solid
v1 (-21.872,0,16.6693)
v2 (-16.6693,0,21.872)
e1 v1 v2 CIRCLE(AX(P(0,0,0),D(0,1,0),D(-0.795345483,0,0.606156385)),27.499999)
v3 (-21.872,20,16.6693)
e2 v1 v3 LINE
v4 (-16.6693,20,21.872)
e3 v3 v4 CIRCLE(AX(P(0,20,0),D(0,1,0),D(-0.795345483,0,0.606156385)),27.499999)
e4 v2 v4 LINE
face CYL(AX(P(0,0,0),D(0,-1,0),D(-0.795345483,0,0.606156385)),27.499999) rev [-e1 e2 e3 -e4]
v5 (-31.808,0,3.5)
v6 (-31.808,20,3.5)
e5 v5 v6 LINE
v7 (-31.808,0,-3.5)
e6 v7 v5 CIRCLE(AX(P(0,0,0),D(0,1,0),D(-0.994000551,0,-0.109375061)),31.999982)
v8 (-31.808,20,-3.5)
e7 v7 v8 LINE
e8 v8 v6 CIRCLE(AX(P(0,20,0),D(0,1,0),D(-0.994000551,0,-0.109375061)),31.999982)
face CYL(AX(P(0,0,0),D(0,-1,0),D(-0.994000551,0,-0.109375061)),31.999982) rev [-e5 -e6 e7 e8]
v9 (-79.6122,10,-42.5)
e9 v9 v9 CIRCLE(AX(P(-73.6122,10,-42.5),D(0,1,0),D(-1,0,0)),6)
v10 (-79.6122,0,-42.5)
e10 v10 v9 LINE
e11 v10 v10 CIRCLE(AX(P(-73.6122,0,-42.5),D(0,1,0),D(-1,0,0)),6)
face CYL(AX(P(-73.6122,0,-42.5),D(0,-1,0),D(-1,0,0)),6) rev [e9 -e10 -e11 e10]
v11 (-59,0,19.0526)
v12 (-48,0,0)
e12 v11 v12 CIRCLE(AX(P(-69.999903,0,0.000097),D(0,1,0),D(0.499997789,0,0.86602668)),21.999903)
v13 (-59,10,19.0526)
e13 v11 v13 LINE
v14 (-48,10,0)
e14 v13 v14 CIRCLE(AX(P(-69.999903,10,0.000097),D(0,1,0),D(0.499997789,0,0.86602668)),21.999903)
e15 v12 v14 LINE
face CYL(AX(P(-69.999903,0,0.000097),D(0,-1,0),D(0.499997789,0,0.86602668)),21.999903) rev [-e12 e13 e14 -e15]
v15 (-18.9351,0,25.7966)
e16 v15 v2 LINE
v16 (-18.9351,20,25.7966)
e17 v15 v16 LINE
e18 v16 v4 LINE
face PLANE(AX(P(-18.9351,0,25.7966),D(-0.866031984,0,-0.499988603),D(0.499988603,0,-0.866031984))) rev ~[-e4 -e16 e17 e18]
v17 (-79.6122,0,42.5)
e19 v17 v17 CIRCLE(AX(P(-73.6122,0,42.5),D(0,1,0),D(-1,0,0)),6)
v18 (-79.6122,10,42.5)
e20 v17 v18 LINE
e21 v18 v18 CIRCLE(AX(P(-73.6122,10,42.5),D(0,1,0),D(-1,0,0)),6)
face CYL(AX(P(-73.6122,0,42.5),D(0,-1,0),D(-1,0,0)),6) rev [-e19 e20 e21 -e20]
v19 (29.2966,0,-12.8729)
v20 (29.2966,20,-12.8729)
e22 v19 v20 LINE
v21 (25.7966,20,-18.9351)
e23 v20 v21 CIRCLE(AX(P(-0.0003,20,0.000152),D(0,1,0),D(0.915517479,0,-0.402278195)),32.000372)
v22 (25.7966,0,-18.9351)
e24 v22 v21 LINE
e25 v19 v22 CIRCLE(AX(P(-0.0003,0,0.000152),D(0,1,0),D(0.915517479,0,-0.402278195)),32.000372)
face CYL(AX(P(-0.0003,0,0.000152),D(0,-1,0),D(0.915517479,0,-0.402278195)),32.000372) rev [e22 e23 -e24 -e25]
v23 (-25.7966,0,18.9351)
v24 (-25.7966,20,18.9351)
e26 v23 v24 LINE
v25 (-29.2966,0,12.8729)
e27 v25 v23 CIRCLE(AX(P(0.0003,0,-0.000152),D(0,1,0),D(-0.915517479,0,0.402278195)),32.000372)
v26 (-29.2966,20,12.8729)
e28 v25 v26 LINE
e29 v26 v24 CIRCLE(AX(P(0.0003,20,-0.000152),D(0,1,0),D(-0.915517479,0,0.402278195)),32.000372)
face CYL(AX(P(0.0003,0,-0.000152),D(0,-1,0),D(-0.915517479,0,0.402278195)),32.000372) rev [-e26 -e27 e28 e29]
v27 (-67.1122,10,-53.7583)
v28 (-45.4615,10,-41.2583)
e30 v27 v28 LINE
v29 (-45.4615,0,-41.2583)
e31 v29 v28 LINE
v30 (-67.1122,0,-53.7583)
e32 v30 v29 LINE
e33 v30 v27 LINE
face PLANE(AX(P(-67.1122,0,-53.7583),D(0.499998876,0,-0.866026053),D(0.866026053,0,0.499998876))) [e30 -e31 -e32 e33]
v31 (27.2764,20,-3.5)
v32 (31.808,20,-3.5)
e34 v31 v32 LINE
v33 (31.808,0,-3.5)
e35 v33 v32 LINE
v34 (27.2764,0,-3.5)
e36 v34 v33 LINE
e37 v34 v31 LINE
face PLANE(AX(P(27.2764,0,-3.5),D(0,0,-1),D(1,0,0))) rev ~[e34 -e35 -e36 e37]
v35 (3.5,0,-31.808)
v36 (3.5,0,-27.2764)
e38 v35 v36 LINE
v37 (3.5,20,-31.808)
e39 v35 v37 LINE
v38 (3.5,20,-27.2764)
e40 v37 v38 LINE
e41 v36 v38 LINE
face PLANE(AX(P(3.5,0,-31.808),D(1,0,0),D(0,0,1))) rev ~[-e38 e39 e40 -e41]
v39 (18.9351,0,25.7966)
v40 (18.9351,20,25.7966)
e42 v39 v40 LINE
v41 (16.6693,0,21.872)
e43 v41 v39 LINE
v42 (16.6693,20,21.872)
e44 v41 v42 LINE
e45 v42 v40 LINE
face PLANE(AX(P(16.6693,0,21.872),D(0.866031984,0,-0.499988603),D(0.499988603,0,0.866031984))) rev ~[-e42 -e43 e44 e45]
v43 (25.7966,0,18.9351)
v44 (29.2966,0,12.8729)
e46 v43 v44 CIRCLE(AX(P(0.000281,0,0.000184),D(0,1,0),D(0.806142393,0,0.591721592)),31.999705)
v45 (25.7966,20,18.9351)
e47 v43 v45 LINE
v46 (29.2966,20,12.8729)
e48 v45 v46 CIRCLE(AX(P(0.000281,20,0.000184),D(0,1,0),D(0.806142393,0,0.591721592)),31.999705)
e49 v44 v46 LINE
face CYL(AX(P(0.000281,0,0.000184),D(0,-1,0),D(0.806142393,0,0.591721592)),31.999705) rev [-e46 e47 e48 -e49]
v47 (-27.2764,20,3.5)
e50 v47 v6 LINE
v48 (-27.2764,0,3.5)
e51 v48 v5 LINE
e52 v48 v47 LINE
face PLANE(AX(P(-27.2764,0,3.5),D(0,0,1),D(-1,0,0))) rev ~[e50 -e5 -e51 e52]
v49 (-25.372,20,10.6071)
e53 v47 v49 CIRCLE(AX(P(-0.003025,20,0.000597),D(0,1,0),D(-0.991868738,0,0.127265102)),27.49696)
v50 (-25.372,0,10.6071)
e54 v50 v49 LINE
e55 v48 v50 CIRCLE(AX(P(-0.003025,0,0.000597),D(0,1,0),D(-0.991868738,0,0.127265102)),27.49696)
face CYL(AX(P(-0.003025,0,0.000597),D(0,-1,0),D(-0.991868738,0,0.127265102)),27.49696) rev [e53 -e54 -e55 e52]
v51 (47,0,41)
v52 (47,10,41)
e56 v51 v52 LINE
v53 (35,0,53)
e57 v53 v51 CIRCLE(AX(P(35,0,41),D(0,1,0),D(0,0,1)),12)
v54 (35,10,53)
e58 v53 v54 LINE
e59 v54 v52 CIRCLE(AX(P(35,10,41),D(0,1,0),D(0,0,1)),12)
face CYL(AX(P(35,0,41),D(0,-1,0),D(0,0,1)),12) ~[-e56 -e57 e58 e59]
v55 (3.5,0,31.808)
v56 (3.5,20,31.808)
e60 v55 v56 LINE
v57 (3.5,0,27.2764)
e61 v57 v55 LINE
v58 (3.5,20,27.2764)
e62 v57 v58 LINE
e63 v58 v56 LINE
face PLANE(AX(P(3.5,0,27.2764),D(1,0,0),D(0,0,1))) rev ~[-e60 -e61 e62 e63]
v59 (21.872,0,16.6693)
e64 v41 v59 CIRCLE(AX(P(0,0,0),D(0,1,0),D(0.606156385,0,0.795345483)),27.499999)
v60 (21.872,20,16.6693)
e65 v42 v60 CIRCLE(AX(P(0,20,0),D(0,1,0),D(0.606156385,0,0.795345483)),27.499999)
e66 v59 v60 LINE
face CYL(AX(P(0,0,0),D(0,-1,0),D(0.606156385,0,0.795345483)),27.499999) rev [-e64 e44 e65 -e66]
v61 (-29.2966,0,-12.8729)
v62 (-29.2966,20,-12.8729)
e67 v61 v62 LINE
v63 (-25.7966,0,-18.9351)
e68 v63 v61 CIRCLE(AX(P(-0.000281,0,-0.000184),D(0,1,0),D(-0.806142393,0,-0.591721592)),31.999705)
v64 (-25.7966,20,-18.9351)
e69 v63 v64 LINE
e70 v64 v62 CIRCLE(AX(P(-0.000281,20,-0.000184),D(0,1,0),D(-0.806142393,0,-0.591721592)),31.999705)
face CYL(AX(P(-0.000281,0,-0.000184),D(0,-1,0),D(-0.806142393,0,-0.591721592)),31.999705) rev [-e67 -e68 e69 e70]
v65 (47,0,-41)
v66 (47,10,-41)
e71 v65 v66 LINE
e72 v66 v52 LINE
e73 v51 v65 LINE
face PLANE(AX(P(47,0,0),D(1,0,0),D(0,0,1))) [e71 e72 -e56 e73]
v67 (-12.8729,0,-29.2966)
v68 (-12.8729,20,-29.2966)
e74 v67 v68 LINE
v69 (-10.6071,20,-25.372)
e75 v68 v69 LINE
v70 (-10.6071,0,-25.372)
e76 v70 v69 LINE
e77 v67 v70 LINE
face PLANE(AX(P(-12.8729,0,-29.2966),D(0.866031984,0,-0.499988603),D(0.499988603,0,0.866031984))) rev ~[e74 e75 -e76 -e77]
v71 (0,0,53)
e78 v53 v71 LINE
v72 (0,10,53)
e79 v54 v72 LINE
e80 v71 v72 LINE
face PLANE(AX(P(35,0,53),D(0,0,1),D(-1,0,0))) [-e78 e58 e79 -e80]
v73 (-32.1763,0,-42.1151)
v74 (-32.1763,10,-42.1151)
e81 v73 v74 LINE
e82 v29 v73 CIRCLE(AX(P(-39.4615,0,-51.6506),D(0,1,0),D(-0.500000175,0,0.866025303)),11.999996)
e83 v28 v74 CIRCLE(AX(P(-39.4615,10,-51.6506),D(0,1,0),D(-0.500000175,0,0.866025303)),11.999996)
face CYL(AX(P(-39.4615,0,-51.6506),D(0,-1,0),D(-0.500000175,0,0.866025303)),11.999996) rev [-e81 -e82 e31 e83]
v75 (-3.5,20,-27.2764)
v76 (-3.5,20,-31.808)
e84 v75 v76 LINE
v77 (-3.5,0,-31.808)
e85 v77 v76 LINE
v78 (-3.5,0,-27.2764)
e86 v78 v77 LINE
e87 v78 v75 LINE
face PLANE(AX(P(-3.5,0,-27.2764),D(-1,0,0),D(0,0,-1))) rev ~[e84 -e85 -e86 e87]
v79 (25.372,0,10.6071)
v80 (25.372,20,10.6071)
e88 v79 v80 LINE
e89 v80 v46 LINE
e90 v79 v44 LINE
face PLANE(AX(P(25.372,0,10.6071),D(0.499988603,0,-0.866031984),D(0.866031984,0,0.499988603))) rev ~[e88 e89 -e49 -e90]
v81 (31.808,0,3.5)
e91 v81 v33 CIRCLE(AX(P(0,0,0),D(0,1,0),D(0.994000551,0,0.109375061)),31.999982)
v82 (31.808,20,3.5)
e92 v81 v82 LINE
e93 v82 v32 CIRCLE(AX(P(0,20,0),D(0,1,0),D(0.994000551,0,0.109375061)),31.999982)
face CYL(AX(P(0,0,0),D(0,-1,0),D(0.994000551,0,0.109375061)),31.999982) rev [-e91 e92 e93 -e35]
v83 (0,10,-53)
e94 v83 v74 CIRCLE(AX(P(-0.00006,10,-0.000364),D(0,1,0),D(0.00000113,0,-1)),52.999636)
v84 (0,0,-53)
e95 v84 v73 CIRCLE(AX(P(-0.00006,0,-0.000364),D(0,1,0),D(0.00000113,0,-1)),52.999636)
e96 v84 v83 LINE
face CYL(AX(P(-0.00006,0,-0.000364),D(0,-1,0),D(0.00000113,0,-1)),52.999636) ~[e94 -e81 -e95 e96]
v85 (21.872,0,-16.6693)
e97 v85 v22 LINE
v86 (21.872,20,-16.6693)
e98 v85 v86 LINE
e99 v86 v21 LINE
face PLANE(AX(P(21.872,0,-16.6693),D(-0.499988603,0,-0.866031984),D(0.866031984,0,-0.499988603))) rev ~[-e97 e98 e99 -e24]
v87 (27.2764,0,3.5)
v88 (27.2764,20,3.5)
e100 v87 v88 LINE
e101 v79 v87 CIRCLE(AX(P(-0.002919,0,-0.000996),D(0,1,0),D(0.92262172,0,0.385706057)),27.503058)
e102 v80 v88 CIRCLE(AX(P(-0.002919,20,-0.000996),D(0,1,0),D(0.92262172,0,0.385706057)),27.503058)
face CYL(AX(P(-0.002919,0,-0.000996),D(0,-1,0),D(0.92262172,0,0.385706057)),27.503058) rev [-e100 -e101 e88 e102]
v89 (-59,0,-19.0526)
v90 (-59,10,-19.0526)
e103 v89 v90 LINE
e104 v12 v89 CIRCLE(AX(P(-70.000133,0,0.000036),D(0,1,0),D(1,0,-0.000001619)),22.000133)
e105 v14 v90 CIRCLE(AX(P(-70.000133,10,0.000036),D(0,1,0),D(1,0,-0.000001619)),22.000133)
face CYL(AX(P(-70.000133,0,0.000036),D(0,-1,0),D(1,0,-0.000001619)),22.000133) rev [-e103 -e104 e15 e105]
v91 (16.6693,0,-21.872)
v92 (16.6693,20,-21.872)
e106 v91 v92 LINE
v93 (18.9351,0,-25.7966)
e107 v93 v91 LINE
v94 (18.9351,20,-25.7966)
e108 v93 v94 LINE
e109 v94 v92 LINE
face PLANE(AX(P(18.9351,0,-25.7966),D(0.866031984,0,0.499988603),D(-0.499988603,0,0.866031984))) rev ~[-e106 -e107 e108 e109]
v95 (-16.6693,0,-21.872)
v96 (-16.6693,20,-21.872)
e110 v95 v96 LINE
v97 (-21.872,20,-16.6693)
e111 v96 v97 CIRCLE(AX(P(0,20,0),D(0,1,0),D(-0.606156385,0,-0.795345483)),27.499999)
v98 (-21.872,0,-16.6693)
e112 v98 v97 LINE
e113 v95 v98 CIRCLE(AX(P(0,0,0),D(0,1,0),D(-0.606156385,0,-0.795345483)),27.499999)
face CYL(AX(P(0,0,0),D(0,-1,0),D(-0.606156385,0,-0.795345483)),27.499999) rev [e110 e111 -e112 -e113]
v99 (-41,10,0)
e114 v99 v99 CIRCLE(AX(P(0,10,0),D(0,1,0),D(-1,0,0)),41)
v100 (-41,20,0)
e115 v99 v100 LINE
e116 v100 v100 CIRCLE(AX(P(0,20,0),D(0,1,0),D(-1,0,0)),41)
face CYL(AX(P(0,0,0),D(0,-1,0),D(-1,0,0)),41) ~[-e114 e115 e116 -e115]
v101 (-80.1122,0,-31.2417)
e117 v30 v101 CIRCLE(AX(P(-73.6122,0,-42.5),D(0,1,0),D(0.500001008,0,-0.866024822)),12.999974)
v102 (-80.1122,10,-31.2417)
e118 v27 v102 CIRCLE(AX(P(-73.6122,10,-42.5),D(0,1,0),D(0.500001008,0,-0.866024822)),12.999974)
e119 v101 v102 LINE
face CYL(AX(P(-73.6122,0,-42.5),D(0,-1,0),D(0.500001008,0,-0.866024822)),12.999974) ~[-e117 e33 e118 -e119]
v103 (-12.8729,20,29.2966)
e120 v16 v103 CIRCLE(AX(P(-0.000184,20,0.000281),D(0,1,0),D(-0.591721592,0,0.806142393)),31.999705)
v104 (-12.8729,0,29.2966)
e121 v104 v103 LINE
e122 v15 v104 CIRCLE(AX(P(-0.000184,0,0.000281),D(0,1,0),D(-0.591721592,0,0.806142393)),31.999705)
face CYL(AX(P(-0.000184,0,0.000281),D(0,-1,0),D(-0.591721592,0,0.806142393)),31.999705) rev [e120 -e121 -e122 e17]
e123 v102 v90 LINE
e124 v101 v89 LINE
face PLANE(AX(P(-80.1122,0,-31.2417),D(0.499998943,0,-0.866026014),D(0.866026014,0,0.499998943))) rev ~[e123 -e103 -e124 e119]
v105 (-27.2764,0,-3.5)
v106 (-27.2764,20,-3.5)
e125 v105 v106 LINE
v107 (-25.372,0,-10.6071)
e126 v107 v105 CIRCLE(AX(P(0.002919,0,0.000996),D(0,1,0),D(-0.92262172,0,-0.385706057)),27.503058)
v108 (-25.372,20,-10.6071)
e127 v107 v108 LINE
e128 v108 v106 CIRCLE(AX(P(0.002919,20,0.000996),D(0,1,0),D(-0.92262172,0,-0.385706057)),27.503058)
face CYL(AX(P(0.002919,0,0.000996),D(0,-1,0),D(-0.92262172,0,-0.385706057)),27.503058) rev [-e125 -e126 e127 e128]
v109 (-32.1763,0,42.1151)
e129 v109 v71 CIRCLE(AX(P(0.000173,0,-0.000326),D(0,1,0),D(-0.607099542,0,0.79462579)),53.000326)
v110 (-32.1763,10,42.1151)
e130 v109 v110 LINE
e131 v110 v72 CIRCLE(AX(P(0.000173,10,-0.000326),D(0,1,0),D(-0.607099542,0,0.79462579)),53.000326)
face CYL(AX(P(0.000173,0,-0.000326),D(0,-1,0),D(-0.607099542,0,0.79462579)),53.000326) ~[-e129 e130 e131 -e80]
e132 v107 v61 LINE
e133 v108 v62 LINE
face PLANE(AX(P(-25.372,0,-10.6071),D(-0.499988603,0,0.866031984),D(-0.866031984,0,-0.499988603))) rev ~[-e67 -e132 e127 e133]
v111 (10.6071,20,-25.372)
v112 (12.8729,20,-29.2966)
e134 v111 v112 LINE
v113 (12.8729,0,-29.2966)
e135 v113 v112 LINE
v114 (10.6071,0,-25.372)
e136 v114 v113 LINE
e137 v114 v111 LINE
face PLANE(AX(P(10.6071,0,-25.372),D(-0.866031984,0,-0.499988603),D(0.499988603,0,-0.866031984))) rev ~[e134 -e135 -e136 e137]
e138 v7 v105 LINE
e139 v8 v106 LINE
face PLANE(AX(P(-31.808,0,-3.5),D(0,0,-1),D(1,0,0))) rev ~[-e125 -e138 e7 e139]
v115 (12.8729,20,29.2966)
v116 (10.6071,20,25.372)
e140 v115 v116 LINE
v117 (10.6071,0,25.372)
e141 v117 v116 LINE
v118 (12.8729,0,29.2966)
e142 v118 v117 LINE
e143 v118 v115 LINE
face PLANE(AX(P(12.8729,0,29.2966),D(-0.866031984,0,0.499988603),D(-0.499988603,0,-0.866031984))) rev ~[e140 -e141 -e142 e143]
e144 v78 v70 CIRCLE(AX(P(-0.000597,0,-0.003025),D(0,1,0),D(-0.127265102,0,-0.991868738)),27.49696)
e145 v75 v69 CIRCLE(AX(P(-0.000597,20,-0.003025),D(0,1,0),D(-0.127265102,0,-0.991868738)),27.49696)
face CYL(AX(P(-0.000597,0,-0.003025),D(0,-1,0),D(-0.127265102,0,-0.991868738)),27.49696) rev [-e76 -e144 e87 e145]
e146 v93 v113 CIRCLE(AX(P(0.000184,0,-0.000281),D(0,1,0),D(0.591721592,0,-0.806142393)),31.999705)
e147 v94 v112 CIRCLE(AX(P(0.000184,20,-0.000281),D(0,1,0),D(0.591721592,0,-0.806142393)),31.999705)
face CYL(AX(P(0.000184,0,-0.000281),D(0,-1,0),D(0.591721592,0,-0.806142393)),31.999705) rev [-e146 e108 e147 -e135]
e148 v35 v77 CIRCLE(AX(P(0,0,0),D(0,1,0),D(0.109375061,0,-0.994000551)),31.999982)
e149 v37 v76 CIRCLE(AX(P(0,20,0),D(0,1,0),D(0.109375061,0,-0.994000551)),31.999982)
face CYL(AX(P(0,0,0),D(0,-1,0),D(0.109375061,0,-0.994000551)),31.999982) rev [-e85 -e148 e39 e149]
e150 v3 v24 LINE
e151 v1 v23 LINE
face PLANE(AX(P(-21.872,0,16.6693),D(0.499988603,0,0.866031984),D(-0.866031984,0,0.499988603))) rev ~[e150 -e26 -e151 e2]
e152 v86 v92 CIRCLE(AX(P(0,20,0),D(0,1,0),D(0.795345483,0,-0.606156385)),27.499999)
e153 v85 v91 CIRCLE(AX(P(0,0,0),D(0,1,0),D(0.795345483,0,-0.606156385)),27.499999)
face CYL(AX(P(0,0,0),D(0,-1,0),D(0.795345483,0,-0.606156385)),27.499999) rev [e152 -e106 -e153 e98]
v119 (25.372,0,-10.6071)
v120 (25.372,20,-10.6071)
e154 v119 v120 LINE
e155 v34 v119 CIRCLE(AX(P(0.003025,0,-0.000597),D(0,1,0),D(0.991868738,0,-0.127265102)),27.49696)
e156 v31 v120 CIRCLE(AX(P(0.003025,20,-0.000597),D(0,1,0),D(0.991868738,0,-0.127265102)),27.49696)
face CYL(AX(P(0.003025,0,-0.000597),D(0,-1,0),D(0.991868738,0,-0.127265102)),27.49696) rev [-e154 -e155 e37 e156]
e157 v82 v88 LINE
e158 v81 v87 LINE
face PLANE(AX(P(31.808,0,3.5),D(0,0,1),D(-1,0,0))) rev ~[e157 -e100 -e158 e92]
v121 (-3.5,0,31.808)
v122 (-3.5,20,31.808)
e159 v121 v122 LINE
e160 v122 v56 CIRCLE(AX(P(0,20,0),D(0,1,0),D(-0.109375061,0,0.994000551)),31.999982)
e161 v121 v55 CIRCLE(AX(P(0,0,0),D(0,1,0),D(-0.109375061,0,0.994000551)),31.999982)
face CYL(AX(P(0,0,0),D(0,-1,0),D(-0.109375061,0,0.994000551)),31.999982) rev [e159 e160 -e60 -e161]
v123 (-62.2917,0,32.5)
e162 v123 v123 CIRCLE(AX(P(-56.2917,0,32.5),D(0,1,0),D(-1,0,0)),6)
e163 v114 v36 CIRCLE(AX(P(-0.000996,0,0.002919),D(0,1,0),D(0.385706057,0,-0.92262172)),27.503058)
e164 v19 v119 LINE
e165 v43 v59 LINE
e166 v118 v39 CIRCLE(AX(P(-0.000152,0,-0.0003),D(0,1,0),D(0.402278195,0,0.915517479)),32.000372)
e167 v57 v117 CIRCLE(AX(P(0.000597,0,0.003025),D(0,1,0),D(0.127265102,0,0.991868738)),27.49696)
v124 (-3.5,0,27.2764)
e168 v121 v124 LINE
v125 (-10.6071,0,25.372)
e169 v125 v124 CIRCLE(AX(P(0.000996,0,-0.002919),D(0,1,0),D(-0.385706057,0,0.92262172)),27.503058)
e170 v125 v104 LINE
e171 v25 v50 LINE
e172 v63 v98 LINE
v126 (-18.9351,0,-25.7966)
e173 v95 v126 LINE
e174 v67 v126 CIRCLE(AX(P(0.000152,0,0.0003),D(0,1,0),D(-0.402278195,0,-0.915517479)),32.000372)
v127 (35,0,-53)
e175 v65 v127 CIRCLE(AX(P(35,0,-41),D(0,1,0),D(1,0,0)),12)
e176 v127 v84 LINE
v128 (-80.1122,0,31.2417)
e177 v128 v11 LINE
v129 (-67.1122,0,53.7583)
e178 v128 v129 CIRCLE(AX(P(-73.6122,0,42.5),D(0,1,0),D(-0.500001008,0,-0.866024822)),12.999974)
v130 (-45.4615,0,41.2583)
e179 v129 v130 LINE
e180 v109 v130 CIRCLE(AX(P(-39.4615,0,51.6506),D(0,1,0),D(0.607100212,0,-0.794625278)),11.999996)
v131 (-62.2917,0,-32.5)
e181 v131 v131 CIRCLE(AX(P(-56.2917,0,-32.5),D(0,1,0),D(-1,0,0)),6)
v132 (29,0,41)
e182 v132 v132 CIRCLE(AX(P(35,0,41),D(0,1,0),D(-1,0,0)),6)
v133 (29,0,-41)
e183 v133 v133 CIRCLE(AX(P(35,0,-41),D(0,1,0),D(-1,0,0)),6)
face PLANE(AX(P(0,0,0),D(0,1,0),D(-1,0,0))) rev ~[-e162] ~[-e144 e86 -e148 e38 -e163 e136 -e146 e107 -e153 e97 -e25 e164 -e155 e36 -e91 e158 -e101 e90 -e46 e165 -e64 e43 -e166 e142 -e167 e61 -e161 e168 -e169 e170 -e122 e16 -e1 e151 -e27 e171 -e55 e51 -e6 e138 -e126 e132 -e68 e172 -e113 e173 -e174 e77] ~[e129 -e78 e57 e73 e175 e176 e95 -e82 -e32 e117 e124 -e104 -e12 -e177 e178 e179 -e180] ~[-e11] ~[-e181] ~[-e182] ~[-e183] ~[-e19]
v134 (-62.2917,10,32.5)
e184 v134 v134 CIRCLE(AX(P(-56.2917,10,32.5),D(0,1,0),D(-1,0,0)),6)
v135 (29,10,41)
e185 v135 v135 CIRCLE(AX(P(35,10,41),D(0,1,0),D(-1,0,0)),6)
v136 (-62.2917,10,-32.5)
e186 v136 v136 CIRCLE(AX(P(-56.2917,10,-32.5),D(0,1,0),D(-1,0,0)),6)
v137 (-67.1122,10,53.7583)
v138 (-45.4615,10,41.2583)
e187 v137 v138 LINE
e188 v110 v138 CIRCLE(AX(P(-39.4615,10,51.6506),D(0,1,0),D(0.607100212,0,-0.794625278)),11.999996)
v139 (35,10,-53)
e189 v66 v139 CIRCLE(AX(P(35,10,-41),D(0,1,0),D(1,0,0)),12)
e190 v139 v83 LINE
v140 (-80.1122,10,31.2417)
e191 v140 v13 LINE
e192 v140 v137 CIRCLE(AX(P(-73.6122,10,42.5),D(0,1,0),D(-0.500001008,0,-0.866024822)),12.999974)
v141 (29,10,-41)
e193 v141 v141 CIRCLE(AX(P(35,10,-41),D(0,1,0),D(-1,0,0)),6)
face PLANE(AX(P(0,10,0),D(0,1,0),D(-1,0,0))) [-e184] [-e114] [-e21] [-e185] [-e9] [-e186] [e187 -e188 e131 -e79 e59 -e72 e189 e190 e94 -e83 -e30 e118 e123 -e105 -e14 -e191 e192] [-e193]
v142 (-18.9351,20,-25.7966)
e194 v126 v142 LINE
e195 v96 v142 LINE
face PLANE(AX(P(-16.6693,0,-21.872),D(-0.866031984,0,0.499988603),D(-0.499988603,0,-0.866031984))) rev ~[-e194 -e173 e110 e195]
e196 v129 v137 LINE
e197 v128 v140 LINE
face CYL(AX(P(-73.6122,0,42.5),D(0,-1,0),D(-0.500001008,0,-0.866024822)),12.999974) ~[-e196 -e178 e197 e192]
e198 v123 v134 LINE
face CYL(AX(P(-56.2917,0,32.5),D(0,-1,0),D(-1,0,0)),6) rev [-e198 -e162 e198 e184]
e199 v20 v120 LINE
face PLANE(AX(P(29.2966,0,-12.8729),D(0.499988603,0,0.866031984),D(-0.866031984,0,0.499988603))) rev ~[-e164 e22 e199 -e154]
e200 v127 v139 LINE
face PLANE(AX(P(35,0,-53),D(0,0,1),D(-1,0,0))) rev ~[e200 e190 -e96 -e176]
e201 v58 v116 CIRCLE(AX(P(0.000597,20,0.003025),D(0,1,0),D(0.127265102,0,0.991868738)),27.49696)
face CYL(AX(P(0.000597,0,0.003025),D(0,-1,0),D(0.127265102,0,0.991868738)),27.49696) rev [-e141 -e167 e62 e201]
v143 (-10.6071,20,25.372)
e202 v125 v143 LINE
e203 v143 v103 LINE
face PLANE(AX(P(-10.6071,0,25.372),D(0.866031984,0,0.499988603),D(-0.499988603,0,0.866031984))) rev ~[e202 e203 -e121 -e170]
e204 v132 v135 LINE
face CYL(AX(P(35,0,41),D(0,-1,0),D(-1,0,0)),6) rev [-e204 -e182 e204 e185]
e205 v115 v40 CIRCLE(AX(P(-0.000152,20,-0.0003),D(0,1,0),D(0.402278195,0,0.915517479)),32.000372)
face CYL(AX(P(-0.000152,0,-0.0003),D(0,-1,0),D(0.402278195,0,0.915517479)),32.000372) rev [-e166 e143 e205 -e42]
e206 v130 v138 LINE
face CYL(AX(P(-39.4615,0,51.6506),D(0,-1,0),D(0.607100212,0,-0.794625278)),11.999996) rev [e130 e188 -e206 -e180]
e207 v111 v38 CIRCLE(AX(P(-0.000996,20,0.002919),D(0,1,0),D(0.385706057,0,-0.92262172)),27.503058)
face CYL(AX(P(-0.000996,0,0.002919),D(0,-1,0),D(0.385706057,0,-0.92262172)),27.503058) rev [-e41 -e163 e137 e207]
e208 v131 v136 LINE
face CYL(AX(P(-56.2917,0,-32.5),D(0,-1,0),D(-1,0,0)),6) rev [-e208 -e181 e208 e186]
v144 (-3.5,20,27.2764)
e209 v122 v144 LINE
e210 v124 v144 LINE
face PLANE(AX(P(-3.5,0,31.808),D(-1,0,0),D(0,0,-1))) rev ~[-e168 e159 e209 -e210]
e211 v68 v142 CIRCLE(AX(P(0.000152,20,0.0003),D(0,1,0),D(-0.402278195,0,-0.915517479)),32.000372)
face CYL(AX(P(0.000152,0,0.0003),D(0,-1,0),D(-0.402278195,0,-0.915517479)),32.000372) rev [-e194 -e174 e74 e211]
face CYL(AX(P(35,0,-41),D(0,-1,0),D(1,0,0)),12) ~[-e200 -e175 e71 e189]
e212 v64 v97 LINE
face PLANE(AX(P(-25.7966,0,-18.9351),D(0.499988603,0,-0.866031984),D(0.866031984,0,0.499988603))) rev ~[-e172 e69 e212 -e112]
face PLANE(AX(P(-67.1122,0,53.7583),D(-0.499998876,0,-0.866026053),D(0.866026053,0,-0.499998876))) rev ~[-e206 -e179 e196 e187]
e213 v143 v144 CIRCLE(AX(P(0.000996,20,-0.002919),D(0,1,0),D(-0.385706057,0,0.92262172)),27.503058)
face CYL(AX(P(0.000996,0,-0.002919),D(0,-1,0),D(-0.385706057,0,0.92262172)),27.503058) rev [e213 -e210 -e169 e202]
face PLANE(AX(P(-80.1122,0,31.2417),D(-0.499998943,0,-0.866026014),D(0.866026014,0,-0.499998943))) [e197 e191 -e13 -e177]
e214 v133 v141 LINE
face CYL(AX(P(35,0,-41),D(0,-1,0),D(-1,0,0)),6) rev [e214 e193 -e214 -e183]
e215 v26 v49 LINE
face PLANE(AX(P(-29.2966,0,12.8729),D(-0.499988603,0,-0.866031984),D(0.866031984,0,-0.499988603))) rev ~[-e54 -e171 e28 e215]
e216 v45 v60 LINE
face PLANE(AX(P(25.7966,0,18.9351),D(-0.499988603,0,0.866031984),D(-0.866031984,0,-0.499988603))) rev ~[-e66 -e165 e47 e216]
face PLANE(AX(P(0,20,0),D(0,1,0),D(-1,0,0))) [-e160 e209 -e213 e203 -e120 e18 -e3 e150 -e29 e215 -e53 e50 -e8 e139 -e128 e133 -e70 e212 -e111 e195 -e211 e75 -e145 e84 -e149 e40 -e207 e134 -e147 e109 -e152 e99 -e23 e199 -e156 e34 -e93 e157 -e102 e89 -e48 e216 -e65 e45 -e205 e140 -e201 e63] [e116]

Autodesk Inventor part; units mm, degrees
ref_plane "YZ Plane" through (0, 0, 0) normal (1, 0, 0) x (0, 1, 0)
ref_plane "XZ Plane" through (0, 0, 0) normal (0, 1, 0) x (-1, 0, 0)
ref_plane "XY Plane" through (0, 0, 0) normal (0, 0, 1) x (1, 0, 0)
sketch "Sketch1" plane through (0, 0, 0) normal (0, 1, 0) x (-1, 0, 0)
  circle A0 centre (0, 0) radius 41
  line L0 (-47, 0) -> (-47, 41)
  line L1 (-35, 53) -> (0, 53)
  circle A1 centre (-35, 41) radius 6
  arc A2 (-35, 53) -> (-47, 41) centre (-35, 41) ccw
  circle A3 centre (73.6122, 42.5) radius 6
  circle A4 centre (56.2917, 32.5) radius 6
  line L2 (0, 0) -> (41, 0) construction
  line L3 (0, 0) -> (35.507, 20.5) construction
  line L4 (35.507, 20.5) -> (56.2917, 32.5) construction
  line L5 (56.2917, 32.5) -> (73.6122, 42.5) construction
  arc A5 (80.1122, 31.2417) -> (67.1122, 53.7583) centre (73.6122, 42.5) ccw
  line L6 (67.1122, 53.7583) -> (45.4615, 41.2583)
  line L7 (80.1122, 31.2417) -> (59, 19.0526)
  arc A6 (59, 19.0526) -> (48, 0) centre (70, 0) ccw
  arc A7 (32.1763, 42.1151) -> (45.4615, 41.2583) centre (39.4615, 51.6506) ccw
  line L8 (41, 0) -> (48, 0) construction
  circle A8 centre (73.6122, -42.5) radius 6
  circle A9 centre (56.2917, -32.5) radius 6
  arc A10 (67.1122, -53.7583) -> (80.1122, -31.2417) centre (73.6122, -42.5) ccw
  line L9 (67.1122, -53.7583) -> (45.4615, -41.2583)
  line L10 (80.1122, -31.2417) -> (59, -19.0526)
  arc A11 (48, 0) -> (59, -19.0526) centre (70, 0) ccw
  arc A12 (45.4615, -41.2583) -> (32.1763, -42.1151) centre (39.4615, -51.6506) ccw
  arc A13 (3.5, 31.808) -> (-3.5, 31.808) centre (0, 0) ccw
  arc A14 (10.6071, 25.372) -> (3.5, 27.2764) centre (0, 0) ccw
  line L11 (3.5, 31.808) -> (3.5, 27.2764)
  arc A15 (-12.8729, 29.2966) -> (-18.9351, 25.7966) centre (0, 0) ccw
  line L12 (-12.8729, 29.2966) -> (-10.6071, 25.372)
  arc A16 (-25.7966, 18.9351) -> (-29.2966, 12.8729) centre (0, 0) ccw
  line L13 (-25.7966, 18.9351) -> (-21.872, 16.6693)
  arc A17 (-31.808, 3.5) -> (-31.808, -3.5) centre (0, 0) ccw
  line L14 (-31.808, 3.5) -> (-27.2764, 3.5)
  arc A18 (-29.2966, -12.8729) -> (-25.7966, -18.9351) centre (0, 0) ccw
  line L15 (-29.2966, -12.8729) -> (-25.372, -10.6071)
  arc A19 (-18.9351, -25.7966) -> (-12.8729, -29.2966) centre (0, 0) ccw
  line L16 (-18.9351, -25.7966) -> (-16.6693, -21.872)
  arc A20 (-3.5, -31.808) -> (3.5, -31.808) centre (0, 0) ccw
  line L17 (-3.5, -31.808) -> (-3.5, -27.2764)
  arc A21 (12.8729, -29.2966) -> (18.9351, -25.7966) centre (0, 0) ccw
  line L18 (12.8729, -29.2966) -> (10.6071, -25.372)
  arc A22 (25.7966, -18.9351) -> (29.2966, -12.8729) centre (0, 0) ccw
  line L19 (25.7966, -18.9351) -> (21.872, -16.6693)
  arc A23 (31.808, -3.5) -> (31.808, 3.5) centre (0, 0) ccw
  line L20 (31.808, -3.5) -> (27.2764, -3.5)
  arc A24 (29.2966, 12.8729) -> (25.7966, 18.9351) centre (0, 0) ccw
  line L21 (29.2966, 12.8729) -> (25.372, 10.6071)
  arc A25 (18.9351, 25.7966) -> (12.8729, 29.2966) centre (0, 0) ccw
  line L22 (18.9351, 25.7966) -> (16.6693, 21.872)
  line L23 (10.6071, 25.372) -> (12.8729, 29.2966)
  arc A26 (-3.5, 27.2764) -> (-10.6071, 25.372) centre (0, 0) ccw
  line L24 (-3.5, 27.2764) -> (-3.5, 31.808)
  arc A27 (-16.6693, 21.872) -> (-21.872, 16.6693) centre (0, 0) ccw
  line L25 (-16.6693, 21.872) -> (-18.9351, 25.7966)
  arc A28 (-25.372, 10.6071) -> (-27.2764, 3.5) centre (0, 0) ccw
  line L26 (-25.372, 10.6071) -> (-29.2966, 12.8729)
  arc A29 (-27.2764, -3.5) -> (-25.372, -10.6071) centre (0, 0) ccw
  line L27 (-27.2764, -3.5) -> (-31.808, -3.5)
  arc A30 (-21.872, -16.6693) -> (-16.6693, -21.872) centre (0, 0) ccw
  line L28 (-21.872, -16.6693) -> (-25.7966, -18.9351)
  arc A31 (-10.6071, -25.372) -> (-3.5, -27.2764) centre (0, 0) ccw
  line L29 (-10.6071, -25.372) -> (-12.8729, -29.2966)
  arc A32 (3.5, -27.2764) -> (10.6071, -25.372) centre (0, 0) ccw
  line L30 (3.5, -27.2764) -> (3.5, -31.808)
  arc A33 (16.6693, -21.872) -> (21.872, -16.6693) centre (0, 0) ccw
  line L31 (16.6693, -21.872) -> (18.9351, -25.7966)
  arc A34 (25.372, -10.6071) -> (27.2764, -3.5) centre (0, 0) ccw
  line L32 (25.372, -10.6071) -> (29.2966, -12.8729)
  arc A35 (27.2764, 3.5) -> (25.372, 10.6071) centre (0, 0) ccw
  line L33 (27.2764, 3.5) -> (31.808, 3.5)
  arc A36 (21.872, 16.6693) -> (16.6693, 21.872) centre (0, 0) ccw
  line L34 (21.872, 16.6693) -> (25.7966, 18.9351)
  line L35 (-47, 0) -> (-47, -41)
  line L36 (-35, -53) -> (0, -53)
  circle A37 centre (-35, -41) radius 6
  arc A38 (-47, -41) -> (-35, -53) centre (-35, -41) ccw
  arc A39 (32.1763, 42.1151) -> (0, 53) centre (0, 0) ccw
  arc A40 (0, -53) -> (32.1763, -42.1151) centre (0, 0) ccw
  point P0 (25.7966, 18.9351)
  point P1 (31.808, 3.5)
  point P2 (29.2966, -12.8729)
  point P3 (18.9351, -25.7966)
  point P4 (3.5, -31.808)
  point P5 (-12.8729, -29.2966)
  point P6 (-25.7966, -18.9351)
  point P7 (-31.808, -3.5)
  point P8 (-29.2966, 12.8729)
  point P9 (-3.5, 31.808)
  dimension "d0" = 82
  dimension "d1" = 12
  dimension "d2" = 12
  dimension "d3" = 35
  dimension "d4" = 41
  dimension "d7" = 30
  dimension "d8" = 24
  dimension "d9" = 20
  dimension "d10" = 13
  dimension "d11" = 22
  dimension "d12" = 12
  dimension "d14" = 64
  dimension "d15" = 55
  dimension "d16" = 7
  dimension "d19" = 360
  dimension "d23" = 360
  dimension "d25" = 53
extrude "Extrusion1" add sketch "Sketch1" along normal blind 10 contours L0 A2 L1 A39 A7 L6 A5 L7 A6 A11 L10 A10 L9 A12 A40 L36 A38 L35
extrude "Extrusion2" add sketch "Sketch1" along normal blind 20 contours A0
properties part number "Splined_Flange_Mount"
